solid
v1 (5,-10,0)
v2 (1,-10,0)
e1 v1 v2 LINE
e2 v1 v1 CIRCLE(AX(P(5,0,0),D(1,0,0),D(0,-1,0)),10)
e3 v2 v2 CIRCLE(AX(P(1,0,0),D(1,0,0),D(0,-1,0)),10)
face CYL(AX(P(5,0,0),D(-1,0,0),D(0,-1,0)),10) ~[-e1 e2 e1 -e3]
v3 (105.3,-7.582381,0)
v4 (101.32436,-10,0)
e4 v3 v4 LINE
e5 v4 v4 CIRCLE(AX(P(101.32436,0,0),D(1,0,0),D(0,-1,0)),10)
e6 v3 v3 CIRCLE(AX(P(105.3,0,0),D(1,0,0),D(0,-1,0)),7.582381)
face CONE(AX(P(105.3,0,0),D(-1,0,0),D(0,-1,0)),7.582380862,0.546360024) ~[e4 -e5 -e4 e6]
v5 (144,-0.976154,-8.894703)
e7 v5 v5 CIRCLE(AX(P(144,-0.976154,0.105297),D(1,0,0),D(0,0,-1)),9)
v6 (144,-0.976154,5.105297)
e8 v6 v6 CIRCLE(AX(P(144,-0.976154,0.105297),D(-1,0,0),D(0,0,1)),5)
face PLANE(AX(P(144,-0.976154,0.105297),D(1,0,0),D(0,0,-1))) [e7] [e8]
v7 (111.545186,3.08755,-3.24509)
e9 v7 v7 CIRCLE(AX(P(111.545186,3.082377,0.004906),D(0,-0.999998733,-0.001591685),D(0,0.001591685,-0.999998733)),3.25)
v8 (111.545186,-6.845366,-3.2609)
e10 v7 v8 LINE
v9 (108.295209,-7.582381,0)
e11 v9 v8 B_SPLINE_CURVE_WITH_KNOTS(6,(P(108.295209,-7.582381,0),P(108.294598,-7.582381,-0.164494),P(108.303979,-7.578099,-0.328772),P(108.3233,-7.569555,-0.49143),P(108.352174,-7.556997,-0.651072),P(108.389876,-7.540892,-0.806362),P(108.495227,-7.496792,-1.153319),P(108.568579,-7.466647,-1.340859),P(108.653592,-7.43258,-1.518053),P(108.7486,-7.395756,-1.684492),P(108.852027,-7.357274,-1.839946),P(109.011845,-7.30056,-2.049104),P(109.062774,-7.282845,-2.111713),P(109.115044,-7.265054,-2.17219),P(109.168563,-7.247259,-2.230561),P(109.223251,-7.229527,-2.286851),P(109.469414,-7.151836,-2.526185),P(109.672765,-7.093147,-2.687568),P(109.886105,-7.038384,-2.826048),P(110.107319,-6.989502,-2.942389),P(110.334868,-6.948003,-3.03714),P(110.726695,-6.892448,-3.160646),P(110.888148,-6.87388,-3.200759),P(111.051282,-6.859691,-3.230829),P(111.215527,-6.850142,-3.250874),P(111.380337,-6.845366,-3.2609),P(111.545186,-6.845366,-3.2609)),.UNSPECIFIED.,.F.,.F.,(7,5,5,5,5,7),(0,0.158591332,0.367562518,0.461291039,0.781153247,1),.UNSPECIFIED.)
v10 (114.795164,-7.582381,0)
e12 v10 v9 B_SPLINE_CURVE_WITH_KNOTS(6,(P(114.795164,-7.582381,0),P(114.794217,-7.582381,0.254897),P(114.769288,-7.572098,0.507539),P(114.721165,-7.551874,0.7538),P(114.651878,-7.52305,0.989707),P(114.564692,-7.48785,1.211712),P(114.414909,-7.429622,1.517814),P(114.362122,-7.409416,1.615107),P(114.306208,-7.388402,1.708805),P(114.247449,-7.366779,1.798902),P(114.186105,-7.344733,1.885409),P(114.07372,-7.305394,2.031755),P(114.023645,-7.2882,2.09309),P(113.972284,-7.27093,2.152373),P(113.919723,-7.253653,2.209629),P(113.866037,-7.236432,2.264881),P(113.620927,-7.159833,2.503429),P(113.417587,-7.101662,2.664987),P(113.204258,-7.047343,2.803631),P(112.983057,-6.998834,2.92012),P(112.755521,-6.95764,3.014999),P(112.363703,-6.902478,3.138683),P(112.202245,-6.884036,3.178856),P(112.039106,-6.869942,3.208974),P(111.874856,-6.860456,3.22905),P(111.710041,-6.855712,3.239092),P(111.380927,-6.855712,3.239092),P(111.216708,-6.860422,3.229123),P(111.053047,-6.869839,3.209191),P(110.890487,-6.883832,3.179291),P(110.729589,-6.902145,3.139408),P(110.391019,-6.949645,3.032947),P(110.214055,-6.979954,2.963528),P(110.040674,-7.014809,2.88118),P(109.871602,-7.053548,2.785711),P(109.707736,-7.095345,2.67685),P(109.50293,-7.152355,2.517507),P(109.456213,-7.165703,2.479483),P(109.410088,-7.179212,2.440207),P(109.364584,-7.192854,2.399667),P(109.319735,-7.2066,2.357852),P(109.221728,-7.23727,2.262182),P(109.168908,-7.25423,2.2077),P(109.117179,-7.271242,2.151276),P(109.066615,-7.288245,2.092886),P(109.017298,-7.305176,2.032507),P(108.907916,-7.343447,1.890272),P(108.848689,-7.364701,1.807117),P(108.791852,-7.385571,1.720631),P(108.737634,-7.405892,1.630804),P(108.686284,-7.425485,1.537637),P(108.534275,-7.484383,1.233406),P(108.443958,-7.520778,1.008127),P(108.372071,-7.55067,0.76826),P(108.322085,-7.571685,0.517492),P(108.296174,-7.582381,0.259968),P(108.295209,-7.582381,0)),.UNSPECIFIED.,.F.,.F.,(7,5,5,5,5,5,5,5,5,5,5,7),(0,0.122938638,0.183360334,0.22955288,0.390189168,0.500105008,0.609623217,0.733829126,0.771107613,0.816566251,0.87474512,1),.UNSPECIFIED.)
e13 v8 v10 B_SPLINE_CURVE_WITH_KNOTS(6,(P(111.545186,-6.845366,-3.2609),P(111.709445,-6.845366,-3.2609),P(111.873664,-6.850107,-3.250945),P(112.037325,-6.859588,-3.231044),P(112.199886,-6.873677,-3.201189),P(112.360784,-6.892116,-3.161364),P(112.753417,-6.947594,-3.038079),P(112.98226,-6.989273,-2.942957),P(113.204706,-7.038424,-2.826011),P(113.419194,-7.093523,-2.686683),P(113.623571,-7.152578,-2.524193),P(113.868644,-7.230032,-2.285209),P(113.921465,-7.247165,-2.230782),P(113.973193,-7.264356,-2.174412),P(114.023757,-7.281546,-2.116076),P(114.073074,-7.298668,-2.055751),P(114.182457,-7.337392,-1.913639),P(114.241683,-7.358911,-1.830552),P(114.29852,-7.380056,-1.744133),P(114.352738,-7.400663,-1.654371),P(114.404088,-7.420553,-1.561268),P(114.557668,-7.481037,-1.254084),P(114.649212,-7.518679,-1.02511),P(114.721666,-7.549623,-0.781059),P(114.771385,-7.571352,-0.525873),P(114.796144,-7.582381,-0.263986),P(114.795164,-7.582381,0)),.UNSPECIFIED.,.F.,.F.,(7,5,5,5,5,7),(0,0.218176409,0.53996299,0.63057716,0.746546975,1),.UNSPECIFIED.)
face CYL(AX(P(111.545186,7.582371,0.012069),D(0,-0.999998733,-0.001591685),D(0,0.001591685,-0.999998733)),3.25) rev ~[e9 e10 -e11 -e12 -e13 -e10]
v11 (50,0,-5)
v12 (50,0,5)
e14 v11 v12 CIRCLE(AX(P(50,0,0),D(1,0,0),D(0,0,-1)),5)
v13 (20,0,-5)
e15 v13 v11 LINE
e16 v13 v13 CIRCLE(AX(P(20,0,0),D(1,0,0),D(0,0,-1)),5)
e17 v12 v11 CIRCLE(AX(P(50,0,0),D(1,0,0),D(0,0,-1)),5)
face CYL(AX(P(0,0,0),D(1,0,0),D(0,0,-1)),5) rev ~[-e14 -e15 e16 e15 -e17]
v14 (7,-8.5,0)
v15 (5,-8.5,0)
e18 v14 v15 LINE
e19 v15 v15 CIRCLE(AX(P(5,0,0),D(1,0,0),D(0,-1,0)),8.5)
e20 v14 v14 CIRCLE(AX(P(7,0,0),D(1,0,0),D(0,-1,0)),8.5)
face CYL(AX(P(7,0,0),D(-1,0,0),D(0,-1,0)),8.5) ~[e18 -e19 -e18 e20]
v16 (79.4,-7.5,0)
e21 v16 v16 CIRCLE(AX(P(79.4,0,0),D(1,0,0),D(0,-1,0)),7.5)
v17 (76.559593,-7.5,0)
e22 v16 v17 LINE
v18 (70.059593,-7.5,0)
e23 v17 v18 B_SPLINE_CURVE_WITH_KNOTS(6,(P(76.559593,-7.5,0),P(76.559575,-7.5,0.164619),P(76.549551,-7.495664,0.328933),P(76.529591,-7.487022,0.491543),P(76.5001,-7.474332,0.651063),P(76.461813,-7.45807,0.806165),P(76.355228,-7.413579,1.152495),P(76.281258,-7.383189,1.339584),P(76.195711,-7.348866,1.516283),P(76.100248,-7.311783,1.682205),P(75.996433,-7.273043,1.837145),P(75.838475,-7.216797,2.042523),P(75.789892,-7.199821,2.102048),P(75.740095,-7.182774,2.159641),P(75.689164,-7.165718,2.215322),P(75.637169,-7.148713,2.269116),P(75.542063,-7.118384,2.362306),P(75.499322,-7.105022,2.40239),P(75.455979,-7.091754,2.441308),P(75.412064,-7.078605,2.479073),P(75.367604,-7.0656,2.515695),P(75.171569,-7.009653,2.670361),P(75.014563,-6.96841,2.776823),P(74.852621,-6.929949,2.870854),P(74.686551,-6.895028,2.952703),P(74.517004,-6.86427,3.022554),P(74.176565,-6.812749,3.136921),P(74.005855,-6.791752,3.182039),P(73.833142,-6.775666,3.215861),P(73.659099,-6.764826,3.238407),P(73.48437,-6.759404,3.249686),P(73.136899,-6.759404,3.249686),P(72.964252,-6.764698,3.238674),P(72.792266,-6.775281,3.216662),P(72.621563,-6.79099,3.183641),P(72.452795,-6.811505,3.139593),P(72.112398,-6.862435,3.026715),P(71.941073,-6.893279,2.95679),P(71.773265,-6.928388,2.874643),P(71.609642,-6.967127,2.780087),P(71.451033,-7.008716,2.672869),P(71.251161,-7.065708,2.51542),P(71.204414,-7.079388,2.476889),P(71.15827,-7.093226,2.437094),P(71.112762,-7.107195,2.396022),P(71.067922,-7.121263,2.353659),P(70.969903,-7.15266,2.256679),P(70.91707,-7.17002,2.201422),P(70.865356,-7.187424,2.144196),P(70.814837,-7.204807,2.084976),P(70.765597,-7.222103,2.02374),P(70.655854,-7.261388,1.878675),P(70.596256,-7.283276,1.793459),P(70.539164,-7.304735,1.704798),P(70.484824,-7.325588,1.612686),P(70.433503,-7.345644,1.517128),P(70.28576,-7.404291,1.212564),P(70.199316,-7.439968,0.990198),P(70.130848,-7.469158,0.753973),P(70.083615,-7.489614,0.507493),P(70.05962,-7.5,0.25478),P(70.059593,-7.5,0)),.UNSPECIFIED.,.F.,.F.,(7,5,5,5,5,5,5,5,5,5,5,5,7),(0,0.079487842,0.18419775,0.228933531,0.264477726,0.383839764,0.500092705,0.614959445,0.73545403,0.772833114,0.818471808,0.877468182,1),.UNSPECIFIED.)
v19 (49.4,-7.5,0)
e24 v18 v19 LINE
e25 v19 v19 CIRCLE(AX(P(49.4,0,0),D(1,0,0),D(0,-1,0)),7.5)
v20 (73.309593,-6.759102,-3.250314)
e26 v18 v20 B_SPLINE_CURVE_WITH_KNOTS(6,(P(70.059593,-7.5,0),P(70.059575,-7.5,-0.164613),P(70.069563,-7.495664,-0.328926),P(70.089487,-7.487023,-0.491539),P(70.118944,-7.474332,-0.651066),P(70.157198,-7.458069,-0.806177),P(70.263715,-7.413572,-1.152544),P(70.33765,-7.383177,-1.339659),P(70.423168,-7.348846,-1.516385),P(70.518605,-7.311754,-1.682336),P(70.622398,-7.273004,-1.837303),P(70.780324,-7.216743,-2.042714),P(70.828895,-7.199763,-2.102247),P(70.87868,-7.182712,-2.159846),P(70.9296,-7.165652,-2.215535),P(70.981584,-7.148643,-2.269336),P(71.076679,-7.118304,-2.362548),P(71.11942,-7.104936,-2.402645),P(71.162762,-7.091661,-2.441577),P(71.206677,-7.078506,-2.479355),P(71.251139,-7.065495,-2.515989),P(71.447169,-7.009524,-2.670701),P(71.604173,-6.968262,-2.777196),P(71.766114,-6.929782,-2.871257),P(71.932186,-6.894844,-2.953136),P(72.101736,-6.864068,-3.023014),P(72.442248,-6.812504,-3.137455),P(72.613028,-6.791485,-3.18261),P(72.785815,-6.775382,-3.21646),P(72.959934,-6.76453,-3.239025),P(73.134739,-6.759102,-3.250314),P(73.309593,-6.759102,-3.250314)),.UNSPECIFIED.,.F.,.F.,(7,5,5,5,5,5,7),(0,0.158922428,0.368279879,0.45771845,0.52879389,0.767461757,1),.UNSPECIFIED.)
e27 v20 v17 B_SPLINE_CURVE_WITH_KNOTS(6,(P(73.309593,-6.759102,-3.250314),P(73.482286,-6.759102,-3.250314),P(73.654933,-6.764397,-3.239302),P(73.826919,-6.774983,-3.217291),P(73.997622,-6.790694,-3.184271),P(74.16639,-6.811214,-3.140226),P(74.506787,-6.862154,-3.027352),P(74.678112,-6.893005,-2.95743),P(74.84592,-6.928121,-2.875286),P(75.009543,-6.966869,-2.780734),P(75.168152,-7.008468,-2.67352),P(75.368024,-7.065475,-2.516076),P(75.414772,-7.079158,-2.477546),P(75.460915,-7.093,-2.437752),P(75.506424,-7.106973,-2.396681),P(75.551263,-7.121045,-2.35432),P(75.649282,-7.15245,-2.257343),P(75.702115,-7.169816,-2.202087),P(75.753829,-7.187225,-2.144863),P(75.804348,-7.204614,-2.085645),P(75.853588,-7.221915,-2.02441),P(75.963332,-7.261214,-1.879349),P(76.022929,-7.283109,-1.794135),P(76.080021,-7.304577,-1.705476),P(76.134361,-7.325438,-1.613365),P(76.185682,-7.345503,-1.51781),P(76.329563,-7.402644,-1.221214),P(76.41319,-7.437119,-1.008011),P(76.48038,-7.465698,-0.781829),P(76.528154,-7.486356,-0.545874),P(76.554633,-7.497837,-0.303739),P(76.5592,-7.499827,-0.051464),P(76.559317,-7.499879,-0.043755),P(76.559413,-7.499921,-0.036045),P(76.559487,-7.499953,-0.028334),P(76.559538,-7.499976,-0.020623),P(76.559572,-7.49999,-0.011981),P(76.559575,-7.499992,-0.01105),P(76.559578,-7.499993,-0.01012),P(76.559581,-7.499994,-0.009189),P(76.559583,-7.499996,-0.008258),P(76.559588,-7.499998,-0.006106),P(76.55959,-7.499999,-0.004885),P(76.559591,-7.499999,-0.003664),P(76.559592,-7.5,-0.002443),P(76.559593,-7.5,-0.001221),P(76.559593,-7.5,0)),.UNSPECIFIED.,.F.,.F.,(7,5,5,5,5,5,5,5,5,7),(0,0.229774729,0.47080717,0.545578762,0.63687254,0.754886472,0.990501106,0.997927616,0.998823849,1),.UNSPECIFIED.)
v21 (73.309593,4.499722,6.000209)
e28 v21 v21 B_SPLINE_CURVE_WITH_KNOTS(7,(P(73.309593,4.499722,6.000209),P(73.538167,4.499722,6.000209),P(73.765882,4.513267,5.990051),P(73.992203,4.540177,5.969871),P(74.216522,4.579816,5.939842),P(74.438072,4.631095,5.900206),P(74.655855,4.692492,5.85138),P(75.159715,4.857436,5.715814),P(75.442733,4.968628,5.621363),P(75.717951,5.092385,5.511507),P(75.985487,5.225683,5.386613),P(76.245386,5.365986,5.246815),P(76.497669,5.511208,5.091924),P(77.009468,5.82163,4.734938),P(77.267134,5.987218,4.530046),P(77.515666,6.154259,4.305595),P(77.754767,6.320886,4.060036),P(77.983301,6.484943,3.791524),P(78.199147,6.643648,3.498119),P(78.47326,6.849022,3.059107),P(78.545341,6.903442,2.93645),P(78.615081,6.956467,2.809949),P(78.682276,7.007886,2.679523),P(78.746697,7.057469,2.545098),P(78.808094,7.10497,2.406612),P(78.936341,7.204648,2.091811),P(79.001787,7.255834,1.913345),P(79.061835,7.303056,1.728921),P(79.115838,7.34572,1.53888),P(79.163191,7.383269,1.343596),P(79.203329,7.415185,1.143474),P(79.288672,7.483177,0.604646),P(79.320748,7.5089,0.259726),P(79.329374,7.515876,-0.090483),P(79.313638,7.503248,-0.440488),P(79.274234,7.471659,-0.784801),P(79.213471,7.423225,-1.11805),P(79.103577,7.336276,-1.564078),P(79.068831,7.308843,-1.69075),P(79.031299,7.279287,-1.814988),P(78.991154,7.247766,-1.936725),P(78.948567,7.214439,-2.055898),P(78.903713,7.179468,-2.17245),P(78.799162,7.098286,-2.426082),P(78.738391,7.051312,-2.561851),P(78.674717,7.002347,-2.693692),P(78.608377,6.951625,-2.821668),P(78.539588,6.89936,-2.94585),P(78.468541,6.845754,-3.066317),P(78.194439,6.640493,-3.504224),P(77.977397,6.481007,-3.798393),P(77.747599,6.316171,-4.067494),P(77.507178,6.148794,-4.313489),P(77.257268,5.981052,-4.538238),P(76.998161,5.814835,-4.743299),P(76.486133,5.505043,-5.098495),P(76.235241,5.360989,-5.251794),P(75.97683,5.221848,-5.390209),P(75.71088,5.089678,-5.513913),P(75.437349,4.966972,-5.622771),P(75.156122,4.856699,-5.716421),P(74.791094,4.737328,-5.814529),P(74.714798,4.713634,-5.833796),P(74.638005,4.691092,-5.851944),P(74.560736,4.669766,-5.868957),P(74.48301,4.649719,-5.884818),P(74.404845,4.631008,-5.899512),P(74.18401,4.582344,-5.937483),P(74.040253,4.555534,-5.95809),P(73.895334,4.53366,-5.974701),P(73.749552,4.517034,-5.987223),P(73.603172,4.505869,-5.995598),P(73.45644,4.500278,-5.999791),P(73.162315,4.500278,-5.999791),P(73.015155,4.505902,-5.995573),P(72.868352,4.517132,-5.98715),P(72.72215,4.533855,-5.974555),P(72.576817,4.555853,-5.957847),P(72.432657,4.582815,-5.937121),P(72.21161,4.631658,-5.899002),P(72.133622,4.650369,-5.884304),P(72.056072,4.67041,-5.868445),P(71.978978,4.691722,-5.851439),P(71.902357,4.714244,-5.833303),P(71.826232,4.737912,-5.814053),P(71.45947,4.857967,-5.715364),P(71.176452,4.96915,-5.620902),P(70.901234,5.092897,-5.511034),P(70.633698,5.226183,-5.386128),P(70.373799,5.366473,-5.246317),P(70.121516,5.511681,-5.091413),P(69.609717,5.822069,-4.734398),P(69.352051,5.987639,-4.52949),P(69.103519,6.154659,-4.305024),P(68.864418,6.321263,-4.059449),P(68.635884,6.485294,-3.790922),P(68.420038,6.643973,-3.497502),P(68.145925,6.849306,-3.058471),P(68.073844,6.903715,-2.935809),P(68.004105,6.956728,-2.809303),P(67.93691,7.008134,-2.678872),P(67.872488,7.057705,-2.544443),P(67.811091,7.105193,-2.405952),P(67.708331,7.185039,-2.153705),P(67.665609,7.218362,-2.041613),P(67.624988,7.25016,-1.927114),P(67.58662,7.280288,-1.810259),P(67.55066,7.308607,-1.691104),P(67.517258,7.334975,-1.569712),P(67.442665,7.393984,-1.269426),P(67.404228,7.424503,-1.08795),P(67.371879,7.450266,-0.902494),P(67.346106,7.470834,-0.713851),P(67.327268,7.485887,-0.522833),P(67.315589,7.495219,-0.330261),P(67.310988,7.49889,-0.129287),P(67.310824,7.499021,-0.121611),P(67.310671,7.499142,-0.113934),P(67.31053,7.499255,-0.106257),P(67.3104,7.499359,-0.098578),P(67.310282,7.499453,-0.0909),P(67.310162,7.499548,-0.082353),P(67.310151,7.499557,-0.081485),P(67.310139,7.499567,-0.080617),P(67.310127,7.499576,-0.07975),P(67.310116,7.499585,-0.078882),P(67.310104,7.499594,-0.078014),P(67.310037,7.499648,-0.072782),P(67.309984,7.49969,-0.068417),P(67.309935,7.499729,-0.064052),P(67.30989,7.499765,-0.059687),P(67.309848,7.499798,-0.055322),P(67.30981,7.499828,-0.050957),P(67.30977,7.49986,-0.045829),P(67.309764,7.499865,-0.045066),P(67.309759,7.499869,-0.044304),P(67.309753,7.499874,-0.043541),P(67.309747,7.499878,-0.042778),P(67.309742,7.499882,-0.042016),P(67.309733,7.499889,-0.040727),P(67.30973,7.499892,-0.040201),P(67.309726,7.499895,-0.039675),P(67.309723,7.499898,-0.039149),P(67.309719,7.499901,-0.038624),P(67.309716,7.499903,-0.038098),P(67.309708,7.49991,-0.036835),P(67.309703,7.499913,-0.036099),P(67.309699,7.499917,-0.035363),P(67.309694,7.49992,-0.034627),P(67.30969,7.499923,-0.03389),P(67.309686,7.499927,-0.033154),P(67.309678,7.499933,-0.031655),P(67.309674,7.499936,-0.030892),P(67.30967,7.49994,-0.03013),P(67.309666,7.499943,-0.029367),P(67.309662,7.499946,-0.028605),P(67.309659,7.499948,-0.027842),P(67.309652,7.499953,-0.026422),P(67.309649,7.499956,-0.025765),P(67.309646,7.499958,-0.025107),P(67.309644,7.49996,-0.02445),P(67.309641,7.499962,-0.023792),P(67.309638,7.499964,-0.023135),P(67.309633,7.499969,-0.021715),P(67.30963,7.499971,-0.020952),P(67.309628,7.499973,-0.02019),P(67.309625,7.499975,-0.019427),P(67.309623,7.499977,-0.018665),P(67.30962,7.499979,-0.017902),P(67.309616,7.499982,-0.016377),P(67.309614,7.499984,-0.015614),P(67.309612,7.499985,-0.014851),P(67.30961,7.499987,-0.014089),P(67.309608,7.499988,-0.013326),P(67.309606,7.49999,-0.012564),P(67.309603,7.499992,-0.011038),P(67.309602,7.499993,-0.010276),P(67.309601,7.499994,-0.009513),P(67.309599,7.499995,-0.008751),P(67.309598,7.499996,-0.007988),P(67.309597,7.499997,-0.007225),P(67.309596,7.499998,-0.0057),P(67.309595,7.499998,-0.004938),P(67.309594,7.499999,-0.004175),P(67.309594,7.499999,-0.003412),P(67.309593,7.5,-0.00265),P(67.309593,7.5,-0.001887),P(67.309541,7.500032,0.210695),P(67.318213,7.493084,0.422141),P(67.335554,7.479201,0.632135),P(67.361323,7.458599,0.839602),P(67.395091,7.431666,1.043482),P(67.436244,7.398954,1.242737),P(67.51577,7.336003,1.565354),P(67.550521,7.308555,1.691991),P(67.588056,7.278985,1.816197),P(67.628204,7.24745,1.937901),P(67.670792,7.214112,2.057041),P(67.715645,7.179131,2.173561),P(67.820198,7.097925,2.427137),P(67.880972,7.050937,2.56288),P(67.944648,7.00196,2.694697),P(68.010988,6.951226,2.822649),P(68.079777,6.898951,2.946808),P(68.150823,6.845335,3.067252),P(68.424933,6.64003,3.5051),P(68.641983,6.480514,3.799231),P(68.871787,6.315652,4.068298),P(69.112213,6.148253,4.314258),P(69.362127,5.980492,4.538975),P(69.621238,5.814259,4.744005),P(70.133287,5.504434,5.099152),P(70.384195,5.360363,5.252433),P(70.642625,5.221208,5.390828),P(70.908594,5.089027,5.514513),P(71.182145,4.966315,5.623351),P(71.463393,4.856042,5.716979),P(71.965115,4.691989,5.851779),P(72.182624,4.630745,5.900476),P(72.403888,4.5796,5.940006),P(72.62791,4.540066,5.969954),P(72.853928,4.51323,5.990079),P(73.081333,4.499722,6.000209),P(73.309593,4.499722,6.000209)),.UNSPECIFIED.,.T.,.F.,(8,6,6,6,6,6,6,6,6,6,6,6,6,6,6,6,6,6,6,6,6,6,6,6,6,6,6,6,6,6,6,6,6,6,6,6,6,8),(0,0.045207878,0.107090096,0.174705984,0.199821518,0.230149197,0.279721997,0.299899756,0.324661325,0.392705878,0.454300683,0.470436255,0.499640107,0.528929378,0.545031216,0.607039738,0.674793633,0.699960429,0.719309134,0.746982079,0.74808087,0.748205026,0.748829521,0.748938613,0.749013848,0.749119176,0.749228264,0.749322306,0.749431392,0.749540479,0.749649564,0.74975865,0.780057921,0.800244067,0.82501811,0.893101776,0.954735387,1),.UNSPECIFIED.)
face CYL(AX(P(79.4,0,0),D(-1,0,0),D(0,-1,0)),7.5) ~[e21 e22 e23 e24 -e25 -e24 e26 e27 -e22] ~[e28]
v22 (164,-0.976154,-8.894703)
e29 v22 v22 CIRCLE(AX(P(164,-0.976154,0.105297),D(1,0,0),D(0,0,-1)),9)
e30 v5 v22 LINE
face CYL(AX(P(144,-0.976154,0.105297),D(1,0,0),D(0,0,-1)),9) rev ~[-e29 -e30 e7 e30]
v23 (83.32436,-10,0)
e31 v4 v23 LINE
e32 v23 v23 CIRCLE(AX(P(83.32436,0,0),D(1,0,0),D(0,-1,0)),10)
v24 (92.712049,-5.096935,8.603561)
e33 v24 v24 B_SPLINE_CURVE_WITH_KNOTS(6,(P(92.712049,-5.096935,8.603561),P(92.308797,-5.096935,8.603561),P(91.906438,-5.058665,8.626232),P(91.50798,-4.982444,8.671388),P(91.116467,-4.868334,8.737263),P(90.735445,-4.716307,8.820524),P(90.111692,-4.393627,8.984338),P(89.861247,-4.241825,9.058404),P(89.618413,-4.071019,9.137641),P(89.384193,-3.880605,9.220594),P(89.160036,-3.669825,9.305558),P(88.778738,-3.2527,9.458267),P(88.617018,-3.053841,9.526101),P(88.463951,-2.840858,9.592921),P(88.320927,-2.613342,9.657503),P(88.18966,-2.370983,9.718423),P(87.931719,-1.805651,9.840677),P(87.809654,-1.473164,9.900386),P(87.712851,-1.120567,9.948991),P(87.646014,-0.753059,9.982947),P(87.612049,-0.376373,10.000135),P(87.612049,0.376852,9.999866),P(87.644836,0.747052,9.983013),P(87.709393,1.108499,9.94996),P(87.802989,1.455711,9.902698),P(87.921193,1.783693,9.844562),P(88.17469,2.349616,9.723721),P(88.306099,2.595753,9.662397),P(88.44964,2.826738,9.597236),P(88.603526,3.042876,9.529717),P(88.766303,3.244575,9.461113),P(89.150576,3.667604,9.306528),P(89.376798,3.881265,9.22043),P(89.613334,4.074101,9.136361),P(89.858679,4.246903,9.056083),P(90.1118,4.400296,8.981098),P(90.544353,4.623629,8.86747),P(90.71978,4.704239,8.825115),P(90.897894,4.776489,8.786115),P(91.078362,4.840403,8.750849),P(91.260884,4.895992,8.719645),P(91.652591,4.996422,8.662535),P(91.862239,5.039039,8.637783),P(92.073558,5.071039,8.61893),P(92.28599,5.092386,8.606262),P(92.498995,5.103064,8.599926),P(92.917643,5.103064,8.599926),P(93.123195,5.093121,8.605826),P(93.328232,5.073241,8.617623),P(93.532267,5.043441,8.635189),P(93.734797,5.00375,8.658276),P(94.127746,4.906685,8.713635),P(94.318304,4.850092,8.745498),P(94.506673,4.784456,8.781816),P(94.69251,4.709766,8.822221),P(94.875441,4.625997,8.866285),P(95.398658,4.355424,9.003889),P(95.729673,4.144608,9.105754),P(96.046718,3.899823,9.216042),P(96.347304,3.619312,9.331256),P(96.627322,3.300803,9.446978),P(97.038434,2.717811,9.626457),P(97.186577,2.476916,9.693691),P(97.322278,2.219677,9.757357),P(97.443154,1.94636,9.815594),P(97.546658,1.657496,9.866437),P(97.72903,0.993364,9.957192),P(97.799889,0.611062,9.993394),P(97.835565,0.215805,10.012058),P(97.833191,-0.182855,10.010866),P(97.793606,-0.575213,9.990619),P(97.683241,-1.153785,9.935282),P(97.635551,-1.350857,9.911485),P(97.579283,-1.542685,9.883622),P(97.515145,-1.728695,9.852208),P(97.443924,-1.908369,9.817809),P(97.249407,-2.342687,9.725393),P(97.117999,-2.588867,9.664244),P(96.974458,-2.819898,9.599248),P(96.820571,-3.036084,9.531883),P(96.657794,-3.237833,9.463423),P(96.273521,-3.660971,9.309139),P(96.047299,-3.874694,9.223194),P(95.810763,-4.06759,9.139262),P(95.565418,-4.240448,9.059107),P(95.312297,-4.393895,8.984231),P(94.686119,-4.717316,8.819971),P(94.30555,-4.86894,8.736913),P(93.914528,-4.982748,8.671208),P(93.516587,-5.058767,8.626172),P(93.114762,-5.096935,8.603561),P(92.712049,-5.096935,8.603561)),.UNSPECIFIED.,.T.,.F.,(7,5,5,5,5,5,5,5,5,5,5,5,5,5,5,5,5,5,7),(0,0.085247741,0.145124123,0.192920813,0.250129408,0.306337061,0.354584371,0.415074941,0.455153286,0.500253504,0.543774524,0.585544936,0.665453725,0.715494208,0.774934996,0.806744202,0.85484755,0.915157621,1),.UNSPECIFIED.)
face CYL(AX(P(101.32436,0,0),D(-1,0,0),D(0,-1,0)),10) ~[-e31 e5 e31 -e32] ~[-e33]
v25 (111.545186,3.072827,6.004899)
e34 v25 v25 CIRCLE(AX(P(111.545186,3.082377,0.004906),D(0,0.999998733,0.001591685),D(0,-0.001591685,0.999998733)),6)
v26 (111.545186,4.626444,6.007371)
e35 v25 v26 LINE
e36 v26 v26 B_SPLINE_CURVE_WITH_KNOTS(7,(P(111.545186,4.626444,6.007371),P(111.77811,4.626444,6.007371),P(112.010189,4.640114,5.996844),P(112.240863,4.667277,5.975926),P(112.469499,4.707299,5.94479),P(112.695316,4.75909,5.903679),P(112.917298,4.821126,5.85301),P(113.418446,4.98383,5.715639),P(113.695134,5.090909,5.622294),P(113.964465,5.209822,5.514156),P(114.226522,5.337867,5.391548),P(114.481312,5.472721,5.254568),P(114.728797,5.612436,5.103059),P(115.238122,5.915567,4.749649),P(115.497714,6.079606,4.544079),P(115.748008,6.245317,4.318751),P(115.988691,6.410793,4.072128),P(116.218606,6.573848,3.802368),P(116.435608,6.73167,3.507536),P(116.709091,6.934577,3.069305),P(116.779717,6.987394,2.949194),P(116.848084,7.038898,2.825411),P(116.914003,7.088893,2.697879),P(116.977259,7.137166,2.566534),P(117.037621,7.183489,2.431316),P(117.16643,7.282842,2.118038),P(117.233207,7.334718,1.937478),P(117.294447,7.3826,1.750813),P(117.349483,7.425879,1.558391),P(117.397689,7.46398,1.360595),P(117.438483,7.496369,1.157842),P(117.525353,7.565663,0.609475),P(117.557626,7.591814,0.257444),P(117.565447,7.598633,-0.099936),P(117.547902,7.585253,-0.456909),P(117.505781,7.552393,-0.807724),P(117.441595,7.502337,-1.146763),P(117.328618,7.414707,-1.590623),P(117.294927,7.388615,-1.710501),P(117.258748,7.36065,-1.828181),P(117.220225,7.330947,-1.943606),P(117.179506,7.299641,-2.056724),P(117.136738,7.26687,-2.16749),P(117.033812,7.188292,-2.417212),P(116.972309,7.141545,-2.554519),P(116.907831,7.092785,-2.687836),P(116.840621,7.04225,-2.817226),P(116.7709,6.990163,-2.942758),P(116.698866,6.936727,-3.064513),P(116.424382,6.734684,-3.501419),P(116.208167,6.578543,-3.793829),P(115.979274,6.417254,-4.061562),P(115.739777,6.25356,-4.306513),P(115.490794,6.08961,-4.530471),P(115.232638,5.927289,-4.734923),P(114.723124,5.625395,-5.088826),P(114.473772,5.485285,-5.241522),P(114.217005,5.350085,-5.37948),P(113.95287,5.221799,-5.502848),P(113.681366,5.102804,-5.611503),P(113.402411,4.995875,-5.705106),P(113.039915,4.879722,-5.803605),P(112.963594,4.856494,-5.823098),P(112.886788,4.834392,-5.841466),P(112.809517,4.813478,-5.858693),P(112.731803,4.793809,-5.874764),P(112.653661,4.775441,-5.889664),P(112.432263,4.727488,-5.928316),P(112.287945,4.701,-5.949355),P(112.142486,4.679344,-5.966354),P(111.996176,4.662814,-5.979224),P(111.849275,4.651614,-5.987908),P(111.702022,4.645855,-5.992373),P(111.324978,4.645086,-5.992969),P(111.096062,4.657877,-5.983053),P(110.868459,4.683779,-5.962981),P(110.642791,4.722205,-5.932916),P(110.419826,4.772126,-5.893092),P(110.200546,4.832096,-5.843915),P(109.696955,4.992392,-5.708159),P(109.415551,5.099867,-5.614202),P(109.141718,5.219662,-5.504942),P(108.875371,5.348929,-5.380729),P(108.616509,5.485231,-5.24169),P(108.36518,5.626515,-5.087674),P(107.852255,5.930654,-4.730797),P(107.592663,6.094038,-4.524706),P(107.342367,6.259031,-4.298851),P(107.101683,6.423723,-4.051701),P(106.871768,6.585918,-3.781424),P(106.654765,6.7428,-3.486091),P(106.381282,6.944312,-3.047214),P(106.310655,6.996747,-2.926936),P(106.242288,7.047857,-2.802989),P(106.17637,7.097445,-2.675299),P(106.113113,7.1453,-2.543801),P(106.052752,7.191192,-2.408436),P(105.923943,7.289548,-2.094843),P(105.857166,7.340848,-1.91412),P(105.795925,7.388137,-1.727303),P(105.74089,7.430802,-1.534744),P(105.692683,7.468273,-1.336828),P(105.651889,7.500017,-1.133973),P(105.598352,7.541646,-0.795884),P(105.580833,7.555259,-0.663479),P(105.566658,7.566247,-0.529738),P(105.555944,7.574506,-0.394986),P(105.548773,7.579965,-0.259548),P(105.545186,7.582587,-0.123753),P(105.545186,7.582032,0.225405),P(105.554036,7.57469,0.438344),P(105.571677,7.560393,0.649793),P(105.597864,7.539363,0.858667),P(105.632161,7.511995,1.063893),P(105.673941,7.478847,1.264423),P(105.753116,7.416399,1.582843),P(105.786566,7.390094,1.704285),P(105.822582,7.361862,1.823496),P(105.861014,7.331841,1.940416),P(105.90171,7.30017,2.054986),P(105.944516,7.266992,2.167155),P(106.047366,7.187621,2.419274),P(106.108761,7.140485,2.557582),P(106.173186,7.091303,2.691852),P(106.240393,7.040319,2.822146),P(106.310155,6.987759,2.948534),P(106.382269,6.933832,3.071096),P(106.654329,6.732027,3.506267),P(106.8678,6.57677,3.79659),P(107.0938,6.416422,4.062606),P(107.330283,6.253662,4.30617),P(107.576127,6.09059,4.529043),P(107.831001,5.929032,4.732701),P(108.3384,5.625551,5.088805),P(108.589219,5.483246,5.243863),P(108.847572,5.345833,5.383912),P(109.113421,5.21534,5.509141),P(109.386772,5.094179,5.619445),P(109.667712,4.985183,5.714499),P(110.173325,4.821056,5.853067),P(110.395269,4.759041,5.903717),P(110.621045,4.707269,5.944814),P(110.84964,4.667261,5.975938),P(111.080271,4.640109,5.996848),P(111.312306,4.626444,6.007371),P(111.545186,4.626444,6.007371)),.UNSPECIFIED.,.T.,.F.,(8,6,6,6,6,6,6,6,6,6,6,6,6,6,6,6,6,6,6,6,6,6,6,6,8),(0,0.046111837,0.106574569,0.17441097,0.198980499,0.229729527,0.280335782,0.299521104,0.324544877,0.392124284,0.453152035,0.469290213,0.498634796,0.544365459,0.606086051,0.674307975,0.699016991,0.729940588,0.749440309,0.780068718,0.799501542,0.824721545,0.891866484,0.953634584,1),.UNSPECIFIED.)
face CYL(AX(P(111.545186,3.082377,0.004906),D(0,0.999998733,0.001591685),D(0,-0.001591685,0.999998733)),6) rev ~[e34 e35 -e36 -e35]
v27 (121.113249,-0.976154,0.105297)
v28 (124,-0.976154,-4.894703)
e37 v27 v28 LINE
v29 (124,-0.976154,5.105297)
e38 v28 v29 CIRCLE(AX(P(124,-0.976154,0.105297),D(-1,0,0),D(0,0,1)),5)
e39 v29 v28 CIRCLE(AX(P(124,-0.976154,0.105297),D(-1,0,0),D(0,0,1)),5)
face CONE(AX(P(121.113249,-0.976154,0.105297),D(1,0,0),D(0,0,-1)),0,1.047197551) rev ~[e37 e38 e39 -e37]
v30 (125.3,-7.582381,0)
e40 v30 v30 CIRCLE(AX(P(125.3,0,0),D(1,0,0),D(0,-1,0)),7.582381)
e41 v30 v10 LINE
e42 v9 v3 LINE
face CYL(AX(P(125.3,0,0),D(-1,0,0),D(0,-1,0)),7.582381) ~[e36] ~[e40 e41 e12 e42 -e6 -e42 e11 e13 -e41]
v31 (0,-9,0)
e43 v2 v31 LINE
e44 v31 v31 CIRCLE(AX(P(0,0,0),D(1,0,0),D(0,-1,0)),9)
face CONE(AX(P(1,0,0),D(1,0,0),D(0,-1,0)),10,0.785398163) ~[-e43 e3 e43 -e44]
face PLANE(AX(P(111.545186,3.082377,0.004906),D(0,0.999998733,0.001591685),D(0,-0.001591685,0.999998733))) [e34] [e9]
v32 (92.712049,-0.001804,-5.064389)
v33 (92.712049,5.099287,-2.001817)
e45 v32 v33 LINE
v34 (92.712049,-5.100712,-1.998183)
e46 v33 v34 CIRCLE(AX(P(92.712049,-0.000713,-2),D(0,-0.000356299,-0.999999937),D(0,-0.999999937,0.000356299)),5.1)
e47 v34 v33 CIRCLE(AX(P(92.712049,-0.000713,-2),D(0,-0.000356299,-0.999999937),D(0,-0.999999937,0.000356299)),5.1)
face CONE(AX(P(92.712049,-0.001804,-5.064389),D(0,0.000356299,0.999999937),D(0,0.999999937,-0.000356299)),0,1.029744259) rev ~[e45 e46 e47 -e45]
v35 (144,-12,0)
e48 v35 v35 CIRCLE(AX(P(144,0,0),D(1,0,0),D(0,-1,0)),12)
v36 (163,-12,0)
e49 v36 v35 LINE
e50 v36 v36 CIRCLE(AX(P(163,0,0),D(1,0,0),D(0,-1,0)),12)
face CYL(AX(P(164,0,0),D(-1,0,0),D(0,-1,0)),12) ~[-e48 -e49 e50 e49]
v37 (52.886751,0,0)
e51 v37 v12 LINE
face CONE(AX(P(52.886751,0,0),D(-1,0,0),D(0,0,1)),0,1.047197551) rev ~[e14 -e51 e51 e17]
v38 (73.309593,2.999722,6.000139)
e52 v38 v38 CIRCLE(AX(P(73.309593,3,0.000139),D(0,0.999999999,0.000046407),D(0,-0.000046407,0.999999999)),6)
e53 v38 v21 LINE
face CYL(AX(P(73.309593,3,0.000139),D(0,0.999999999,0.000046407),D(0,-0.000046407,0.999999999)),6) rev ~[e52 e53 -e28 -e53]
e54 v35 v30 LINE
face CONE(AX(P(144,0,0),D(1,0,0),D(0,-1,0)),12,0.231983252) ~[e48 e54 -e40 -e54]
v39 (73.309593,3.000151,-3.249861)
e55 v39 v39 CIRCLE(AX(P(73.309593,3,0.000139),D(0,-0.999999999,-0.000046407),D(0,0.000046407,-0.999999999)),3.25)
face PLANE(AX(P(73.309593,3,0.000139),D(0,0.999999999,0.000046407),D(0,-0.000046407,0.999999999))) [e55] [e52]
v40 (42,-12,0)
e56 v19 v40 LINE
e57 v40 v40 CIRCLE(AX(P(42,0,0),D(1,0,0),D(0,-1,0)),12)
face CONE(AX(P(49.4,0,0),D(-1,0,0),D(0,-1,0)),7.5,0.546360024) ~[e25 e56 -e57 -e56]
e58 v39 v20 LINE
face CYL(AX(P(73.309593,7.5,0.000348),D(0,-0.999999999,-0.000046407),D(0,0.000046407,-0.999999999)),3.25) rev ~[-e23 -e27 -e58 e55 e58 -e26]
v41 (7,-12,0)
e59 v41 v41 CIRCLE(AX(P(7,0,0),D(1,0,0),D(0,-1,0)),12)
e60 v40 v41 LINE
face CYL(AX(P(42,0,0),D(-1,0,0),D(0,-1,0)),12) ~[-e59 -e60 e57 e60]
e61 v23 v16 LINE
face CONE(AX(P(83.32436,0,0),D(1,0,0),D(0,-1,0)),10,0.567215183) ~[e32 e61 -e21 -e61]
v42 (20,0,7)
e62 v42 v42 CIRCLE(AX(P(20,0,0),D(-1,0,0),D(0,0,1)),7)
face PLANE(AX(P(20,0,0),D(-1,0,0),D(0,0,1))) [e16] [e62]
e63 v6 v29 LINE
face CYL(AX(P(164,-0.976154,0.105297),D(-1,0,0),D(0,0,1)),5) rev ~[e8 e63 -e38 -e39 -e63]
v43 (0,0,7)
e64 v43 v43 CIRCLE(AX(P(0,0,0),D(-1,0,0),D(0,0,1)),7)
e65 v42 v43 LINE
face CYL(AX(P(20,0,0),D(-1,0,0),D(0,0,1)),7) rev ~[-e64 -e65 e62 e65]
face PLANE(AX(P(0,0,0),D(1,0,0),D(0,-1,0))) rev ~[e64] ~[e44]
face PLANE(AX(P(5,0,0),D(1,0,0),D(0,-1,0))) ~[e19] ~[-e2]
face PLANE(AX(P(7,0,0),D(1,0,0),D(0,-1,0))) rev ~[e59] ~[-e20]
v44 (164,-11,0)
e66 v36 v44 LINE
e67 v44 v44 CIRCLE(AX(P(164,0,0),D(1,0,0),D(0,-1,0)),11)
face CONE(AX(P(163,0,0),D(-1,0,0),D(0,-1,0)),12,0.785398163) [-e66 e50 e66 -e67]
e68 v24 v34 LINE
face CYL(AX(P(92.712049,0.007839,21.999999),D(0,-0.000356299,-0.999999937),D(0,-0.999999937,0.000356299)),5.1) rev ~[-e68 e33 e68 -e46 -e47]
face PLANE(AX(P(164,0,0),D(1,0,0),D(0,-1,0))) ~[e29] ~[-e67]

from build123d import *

# Parameters (mm, degrees)
HOLE_WIZARD_9_D            = 10
HOLE_WIZARD_9_DEPTH        = 50
HOLE_WIZARD_9_CBORE_D      = 14
HOLE_WIZARD_9_CBORE_DEPTH  = 20
HOLE_WIZARD_9_TIP          = 2.886751346
HOLE_WIZARD_M12_1_D        = 10.2
HOLE_WIZARD_M12_1_DEPTH    = 12
HOLE_WIZARD_M12_1_TIP      = 3.064389157
CHAMFER_1_SIZE             = 1
CHAMFER_2_SIZE             = 1
HOLE_WIZARD_12_D           = 10
HOLE_WIZARD_12_DEPTH       = 40
HOLE_WIZARD_12_CBORE_D     = 18
HOLE_WIZARD_12_CBORE_DEPTH = 20
HOLE_WIZARD_12_TIP         = 2.886751346
HOLE_WIZARD_14_D           = 6.5
HOLE_WIZARD_14_DEPTH       = 100
HOLE_WIZARD_14_CBORE_D     = 12
HOLE_WIZARD_14_CBORE_DEPTH = 4.5
HOLE_WIZARD_15_D           = 6.5
HOLE_WIZARD_15_DEPTH       = 100
HOLE_WIZARD_15_CBORE_D     = 12
HOLE_WIZARD_15_CBORE_DEPTH = 4.5


with BuildPart() as part:
    # 草图2 → 旋转2 (revolve)
    with BuildSketch(Plane.XY, mode=Mode.PRIVATE) as revolve_2_sk:
        Polygon((0, 10), (0, 0), (164, 0), (164, 12), (144, 12), (125.3, 7.582380862), (105.3, 7.582380862), (101.324359639, 10), (83.324359639, 10), (79.4, 7.5), (49.4, 7.5), (42, 12), (7, 12), (7, 8.5), (5, 8.5), (5, 10), align=None)
    revolve(revolve_2_sk.sketch.rotate(Axis((0, 0, 0), (1, 0, 0)), 180), axis=Axis((0, 0, 0), (1, 0, 0)))

    # 孔9
    with Locations(Plane.ZY):
        with Locations((0, 0)):
            CounterBoreHole(HOLE_WIZARD_9_D / 2, HOLE_WIZARD_9_CBORE_D / 2, HOLE_WIZARD_9_CBORE_DEPTH, depth=HOLE_WIZARD_9_DEPTH)
            with Locations((0, 0, -(HOLE_WIZARD_9_DEPTH + HOLE_WIZARD_9_TIP / 2))):  # 120° drill point
                Cone(0, HOLE_WIZARD_9_D / 2, HOLE_WIZARD_9_TIP, mode=Mode.SUBTRACT)

    # M12 螺纹孔1
    with Locations(Plane(origin=(92.712048687, 0.00356299, 9.999999365), x_dir=(0, 0.999999936526, -0.000356298984), z_dir=(0, 0.000356298984, 0.999999936526))):
        with Locations((0, 0)):
            Hole(HOLE_WIZARD_M12_1_D / 2, depth=HOLE_WIZARD_M12_1_DEPTH)
            with Locations((0, 0, -(HOLE_WIZARD_M12_1_DEPTH + HOLE_WIZARD_M12_1_TIP / 2))):  # 118° drill point
                Cone(0, HOLE_WIZARD_M12_1_D / 2, HOLE_WIZARD_M12_1_TIP, mode=Mode.SUBTRACT)

    # 倒角1
    chamfer_1_edges = [part.edges().sort_by_distance(p)[0] for p in [
        (164, 12, 0),
    ]]
    chamfer(chamfer_1_edges, length=CHAMFER_1_SIZE)

    # 倒角2
    chamfer_2_edges = [part.edges().sort_by_distance(p)[0] for p in [
        (0, 10, 0),
    ]]
    chamfer(chamfer_2_edges, length=CHAMFER_2_SIZE)

    # 孔12
    with Locations(Plane(origin=(164, 0, 0), x_dir=(0, 0, -1), z_dir=(1, 0, 0))):
        with Locations((-0.105297268, -0.976154466)):
            CounterBoreHole(HOLE_WIZARD_12_D / 2, HOLE_WIZARD_12_CBORE_D / 2, HOLE_WIZARD_12_CBORE_DEPTH, depth=HOLE_WIZARD_12_DEPTH)
            with Locations((0, 0, -(HOLE_WIZARD_12_DEPTH + HOLE_WIZARD_12_TIP / 2))):  # 120° drill point
                Cone(0, HOLE_WIZARD_12_D / 2, HOLE_WIZARD_12_TIP, mode=Mode.SUBTRACT)

    # 孔14
    with Locations(Plane(origin=(73.309592569, 7.499999992, 0.000348053), x_dir=(0, -4.6407092e-05, 0.999999998923), z_dir=(0, 0.999999998923, 4.6407092e-05))):
        with Locations((0, 0)):
            CounterBoreHole(HOLE_WIZARD_14_D / 2, HOLE_WIZARD_14_CBORE_D / 2, HOLE_WIZARD_14_CBORE_DEPTH, depth=HOLE_WIZARD_14_DEPTH)

    # 孔15
    with Locations(Plane(origin=(111.545186108, 7.582371257, 0.012068763), x_dir=(0, -0.001591685193, 0.999998733268), z_dir=(0, 0.999998733268, 0.001591685193))):
        with Locations((0, 0)):
            CounterBoreHole(HOLE_WIZARD_15_D / 2, HOLE_WIZARD_15_CBORE_D / 2, HOLE_WIZARD_15_CBORE_DEPTH, depth=HOLE_WIZARD_15_DEPTH)


solid = part.part
